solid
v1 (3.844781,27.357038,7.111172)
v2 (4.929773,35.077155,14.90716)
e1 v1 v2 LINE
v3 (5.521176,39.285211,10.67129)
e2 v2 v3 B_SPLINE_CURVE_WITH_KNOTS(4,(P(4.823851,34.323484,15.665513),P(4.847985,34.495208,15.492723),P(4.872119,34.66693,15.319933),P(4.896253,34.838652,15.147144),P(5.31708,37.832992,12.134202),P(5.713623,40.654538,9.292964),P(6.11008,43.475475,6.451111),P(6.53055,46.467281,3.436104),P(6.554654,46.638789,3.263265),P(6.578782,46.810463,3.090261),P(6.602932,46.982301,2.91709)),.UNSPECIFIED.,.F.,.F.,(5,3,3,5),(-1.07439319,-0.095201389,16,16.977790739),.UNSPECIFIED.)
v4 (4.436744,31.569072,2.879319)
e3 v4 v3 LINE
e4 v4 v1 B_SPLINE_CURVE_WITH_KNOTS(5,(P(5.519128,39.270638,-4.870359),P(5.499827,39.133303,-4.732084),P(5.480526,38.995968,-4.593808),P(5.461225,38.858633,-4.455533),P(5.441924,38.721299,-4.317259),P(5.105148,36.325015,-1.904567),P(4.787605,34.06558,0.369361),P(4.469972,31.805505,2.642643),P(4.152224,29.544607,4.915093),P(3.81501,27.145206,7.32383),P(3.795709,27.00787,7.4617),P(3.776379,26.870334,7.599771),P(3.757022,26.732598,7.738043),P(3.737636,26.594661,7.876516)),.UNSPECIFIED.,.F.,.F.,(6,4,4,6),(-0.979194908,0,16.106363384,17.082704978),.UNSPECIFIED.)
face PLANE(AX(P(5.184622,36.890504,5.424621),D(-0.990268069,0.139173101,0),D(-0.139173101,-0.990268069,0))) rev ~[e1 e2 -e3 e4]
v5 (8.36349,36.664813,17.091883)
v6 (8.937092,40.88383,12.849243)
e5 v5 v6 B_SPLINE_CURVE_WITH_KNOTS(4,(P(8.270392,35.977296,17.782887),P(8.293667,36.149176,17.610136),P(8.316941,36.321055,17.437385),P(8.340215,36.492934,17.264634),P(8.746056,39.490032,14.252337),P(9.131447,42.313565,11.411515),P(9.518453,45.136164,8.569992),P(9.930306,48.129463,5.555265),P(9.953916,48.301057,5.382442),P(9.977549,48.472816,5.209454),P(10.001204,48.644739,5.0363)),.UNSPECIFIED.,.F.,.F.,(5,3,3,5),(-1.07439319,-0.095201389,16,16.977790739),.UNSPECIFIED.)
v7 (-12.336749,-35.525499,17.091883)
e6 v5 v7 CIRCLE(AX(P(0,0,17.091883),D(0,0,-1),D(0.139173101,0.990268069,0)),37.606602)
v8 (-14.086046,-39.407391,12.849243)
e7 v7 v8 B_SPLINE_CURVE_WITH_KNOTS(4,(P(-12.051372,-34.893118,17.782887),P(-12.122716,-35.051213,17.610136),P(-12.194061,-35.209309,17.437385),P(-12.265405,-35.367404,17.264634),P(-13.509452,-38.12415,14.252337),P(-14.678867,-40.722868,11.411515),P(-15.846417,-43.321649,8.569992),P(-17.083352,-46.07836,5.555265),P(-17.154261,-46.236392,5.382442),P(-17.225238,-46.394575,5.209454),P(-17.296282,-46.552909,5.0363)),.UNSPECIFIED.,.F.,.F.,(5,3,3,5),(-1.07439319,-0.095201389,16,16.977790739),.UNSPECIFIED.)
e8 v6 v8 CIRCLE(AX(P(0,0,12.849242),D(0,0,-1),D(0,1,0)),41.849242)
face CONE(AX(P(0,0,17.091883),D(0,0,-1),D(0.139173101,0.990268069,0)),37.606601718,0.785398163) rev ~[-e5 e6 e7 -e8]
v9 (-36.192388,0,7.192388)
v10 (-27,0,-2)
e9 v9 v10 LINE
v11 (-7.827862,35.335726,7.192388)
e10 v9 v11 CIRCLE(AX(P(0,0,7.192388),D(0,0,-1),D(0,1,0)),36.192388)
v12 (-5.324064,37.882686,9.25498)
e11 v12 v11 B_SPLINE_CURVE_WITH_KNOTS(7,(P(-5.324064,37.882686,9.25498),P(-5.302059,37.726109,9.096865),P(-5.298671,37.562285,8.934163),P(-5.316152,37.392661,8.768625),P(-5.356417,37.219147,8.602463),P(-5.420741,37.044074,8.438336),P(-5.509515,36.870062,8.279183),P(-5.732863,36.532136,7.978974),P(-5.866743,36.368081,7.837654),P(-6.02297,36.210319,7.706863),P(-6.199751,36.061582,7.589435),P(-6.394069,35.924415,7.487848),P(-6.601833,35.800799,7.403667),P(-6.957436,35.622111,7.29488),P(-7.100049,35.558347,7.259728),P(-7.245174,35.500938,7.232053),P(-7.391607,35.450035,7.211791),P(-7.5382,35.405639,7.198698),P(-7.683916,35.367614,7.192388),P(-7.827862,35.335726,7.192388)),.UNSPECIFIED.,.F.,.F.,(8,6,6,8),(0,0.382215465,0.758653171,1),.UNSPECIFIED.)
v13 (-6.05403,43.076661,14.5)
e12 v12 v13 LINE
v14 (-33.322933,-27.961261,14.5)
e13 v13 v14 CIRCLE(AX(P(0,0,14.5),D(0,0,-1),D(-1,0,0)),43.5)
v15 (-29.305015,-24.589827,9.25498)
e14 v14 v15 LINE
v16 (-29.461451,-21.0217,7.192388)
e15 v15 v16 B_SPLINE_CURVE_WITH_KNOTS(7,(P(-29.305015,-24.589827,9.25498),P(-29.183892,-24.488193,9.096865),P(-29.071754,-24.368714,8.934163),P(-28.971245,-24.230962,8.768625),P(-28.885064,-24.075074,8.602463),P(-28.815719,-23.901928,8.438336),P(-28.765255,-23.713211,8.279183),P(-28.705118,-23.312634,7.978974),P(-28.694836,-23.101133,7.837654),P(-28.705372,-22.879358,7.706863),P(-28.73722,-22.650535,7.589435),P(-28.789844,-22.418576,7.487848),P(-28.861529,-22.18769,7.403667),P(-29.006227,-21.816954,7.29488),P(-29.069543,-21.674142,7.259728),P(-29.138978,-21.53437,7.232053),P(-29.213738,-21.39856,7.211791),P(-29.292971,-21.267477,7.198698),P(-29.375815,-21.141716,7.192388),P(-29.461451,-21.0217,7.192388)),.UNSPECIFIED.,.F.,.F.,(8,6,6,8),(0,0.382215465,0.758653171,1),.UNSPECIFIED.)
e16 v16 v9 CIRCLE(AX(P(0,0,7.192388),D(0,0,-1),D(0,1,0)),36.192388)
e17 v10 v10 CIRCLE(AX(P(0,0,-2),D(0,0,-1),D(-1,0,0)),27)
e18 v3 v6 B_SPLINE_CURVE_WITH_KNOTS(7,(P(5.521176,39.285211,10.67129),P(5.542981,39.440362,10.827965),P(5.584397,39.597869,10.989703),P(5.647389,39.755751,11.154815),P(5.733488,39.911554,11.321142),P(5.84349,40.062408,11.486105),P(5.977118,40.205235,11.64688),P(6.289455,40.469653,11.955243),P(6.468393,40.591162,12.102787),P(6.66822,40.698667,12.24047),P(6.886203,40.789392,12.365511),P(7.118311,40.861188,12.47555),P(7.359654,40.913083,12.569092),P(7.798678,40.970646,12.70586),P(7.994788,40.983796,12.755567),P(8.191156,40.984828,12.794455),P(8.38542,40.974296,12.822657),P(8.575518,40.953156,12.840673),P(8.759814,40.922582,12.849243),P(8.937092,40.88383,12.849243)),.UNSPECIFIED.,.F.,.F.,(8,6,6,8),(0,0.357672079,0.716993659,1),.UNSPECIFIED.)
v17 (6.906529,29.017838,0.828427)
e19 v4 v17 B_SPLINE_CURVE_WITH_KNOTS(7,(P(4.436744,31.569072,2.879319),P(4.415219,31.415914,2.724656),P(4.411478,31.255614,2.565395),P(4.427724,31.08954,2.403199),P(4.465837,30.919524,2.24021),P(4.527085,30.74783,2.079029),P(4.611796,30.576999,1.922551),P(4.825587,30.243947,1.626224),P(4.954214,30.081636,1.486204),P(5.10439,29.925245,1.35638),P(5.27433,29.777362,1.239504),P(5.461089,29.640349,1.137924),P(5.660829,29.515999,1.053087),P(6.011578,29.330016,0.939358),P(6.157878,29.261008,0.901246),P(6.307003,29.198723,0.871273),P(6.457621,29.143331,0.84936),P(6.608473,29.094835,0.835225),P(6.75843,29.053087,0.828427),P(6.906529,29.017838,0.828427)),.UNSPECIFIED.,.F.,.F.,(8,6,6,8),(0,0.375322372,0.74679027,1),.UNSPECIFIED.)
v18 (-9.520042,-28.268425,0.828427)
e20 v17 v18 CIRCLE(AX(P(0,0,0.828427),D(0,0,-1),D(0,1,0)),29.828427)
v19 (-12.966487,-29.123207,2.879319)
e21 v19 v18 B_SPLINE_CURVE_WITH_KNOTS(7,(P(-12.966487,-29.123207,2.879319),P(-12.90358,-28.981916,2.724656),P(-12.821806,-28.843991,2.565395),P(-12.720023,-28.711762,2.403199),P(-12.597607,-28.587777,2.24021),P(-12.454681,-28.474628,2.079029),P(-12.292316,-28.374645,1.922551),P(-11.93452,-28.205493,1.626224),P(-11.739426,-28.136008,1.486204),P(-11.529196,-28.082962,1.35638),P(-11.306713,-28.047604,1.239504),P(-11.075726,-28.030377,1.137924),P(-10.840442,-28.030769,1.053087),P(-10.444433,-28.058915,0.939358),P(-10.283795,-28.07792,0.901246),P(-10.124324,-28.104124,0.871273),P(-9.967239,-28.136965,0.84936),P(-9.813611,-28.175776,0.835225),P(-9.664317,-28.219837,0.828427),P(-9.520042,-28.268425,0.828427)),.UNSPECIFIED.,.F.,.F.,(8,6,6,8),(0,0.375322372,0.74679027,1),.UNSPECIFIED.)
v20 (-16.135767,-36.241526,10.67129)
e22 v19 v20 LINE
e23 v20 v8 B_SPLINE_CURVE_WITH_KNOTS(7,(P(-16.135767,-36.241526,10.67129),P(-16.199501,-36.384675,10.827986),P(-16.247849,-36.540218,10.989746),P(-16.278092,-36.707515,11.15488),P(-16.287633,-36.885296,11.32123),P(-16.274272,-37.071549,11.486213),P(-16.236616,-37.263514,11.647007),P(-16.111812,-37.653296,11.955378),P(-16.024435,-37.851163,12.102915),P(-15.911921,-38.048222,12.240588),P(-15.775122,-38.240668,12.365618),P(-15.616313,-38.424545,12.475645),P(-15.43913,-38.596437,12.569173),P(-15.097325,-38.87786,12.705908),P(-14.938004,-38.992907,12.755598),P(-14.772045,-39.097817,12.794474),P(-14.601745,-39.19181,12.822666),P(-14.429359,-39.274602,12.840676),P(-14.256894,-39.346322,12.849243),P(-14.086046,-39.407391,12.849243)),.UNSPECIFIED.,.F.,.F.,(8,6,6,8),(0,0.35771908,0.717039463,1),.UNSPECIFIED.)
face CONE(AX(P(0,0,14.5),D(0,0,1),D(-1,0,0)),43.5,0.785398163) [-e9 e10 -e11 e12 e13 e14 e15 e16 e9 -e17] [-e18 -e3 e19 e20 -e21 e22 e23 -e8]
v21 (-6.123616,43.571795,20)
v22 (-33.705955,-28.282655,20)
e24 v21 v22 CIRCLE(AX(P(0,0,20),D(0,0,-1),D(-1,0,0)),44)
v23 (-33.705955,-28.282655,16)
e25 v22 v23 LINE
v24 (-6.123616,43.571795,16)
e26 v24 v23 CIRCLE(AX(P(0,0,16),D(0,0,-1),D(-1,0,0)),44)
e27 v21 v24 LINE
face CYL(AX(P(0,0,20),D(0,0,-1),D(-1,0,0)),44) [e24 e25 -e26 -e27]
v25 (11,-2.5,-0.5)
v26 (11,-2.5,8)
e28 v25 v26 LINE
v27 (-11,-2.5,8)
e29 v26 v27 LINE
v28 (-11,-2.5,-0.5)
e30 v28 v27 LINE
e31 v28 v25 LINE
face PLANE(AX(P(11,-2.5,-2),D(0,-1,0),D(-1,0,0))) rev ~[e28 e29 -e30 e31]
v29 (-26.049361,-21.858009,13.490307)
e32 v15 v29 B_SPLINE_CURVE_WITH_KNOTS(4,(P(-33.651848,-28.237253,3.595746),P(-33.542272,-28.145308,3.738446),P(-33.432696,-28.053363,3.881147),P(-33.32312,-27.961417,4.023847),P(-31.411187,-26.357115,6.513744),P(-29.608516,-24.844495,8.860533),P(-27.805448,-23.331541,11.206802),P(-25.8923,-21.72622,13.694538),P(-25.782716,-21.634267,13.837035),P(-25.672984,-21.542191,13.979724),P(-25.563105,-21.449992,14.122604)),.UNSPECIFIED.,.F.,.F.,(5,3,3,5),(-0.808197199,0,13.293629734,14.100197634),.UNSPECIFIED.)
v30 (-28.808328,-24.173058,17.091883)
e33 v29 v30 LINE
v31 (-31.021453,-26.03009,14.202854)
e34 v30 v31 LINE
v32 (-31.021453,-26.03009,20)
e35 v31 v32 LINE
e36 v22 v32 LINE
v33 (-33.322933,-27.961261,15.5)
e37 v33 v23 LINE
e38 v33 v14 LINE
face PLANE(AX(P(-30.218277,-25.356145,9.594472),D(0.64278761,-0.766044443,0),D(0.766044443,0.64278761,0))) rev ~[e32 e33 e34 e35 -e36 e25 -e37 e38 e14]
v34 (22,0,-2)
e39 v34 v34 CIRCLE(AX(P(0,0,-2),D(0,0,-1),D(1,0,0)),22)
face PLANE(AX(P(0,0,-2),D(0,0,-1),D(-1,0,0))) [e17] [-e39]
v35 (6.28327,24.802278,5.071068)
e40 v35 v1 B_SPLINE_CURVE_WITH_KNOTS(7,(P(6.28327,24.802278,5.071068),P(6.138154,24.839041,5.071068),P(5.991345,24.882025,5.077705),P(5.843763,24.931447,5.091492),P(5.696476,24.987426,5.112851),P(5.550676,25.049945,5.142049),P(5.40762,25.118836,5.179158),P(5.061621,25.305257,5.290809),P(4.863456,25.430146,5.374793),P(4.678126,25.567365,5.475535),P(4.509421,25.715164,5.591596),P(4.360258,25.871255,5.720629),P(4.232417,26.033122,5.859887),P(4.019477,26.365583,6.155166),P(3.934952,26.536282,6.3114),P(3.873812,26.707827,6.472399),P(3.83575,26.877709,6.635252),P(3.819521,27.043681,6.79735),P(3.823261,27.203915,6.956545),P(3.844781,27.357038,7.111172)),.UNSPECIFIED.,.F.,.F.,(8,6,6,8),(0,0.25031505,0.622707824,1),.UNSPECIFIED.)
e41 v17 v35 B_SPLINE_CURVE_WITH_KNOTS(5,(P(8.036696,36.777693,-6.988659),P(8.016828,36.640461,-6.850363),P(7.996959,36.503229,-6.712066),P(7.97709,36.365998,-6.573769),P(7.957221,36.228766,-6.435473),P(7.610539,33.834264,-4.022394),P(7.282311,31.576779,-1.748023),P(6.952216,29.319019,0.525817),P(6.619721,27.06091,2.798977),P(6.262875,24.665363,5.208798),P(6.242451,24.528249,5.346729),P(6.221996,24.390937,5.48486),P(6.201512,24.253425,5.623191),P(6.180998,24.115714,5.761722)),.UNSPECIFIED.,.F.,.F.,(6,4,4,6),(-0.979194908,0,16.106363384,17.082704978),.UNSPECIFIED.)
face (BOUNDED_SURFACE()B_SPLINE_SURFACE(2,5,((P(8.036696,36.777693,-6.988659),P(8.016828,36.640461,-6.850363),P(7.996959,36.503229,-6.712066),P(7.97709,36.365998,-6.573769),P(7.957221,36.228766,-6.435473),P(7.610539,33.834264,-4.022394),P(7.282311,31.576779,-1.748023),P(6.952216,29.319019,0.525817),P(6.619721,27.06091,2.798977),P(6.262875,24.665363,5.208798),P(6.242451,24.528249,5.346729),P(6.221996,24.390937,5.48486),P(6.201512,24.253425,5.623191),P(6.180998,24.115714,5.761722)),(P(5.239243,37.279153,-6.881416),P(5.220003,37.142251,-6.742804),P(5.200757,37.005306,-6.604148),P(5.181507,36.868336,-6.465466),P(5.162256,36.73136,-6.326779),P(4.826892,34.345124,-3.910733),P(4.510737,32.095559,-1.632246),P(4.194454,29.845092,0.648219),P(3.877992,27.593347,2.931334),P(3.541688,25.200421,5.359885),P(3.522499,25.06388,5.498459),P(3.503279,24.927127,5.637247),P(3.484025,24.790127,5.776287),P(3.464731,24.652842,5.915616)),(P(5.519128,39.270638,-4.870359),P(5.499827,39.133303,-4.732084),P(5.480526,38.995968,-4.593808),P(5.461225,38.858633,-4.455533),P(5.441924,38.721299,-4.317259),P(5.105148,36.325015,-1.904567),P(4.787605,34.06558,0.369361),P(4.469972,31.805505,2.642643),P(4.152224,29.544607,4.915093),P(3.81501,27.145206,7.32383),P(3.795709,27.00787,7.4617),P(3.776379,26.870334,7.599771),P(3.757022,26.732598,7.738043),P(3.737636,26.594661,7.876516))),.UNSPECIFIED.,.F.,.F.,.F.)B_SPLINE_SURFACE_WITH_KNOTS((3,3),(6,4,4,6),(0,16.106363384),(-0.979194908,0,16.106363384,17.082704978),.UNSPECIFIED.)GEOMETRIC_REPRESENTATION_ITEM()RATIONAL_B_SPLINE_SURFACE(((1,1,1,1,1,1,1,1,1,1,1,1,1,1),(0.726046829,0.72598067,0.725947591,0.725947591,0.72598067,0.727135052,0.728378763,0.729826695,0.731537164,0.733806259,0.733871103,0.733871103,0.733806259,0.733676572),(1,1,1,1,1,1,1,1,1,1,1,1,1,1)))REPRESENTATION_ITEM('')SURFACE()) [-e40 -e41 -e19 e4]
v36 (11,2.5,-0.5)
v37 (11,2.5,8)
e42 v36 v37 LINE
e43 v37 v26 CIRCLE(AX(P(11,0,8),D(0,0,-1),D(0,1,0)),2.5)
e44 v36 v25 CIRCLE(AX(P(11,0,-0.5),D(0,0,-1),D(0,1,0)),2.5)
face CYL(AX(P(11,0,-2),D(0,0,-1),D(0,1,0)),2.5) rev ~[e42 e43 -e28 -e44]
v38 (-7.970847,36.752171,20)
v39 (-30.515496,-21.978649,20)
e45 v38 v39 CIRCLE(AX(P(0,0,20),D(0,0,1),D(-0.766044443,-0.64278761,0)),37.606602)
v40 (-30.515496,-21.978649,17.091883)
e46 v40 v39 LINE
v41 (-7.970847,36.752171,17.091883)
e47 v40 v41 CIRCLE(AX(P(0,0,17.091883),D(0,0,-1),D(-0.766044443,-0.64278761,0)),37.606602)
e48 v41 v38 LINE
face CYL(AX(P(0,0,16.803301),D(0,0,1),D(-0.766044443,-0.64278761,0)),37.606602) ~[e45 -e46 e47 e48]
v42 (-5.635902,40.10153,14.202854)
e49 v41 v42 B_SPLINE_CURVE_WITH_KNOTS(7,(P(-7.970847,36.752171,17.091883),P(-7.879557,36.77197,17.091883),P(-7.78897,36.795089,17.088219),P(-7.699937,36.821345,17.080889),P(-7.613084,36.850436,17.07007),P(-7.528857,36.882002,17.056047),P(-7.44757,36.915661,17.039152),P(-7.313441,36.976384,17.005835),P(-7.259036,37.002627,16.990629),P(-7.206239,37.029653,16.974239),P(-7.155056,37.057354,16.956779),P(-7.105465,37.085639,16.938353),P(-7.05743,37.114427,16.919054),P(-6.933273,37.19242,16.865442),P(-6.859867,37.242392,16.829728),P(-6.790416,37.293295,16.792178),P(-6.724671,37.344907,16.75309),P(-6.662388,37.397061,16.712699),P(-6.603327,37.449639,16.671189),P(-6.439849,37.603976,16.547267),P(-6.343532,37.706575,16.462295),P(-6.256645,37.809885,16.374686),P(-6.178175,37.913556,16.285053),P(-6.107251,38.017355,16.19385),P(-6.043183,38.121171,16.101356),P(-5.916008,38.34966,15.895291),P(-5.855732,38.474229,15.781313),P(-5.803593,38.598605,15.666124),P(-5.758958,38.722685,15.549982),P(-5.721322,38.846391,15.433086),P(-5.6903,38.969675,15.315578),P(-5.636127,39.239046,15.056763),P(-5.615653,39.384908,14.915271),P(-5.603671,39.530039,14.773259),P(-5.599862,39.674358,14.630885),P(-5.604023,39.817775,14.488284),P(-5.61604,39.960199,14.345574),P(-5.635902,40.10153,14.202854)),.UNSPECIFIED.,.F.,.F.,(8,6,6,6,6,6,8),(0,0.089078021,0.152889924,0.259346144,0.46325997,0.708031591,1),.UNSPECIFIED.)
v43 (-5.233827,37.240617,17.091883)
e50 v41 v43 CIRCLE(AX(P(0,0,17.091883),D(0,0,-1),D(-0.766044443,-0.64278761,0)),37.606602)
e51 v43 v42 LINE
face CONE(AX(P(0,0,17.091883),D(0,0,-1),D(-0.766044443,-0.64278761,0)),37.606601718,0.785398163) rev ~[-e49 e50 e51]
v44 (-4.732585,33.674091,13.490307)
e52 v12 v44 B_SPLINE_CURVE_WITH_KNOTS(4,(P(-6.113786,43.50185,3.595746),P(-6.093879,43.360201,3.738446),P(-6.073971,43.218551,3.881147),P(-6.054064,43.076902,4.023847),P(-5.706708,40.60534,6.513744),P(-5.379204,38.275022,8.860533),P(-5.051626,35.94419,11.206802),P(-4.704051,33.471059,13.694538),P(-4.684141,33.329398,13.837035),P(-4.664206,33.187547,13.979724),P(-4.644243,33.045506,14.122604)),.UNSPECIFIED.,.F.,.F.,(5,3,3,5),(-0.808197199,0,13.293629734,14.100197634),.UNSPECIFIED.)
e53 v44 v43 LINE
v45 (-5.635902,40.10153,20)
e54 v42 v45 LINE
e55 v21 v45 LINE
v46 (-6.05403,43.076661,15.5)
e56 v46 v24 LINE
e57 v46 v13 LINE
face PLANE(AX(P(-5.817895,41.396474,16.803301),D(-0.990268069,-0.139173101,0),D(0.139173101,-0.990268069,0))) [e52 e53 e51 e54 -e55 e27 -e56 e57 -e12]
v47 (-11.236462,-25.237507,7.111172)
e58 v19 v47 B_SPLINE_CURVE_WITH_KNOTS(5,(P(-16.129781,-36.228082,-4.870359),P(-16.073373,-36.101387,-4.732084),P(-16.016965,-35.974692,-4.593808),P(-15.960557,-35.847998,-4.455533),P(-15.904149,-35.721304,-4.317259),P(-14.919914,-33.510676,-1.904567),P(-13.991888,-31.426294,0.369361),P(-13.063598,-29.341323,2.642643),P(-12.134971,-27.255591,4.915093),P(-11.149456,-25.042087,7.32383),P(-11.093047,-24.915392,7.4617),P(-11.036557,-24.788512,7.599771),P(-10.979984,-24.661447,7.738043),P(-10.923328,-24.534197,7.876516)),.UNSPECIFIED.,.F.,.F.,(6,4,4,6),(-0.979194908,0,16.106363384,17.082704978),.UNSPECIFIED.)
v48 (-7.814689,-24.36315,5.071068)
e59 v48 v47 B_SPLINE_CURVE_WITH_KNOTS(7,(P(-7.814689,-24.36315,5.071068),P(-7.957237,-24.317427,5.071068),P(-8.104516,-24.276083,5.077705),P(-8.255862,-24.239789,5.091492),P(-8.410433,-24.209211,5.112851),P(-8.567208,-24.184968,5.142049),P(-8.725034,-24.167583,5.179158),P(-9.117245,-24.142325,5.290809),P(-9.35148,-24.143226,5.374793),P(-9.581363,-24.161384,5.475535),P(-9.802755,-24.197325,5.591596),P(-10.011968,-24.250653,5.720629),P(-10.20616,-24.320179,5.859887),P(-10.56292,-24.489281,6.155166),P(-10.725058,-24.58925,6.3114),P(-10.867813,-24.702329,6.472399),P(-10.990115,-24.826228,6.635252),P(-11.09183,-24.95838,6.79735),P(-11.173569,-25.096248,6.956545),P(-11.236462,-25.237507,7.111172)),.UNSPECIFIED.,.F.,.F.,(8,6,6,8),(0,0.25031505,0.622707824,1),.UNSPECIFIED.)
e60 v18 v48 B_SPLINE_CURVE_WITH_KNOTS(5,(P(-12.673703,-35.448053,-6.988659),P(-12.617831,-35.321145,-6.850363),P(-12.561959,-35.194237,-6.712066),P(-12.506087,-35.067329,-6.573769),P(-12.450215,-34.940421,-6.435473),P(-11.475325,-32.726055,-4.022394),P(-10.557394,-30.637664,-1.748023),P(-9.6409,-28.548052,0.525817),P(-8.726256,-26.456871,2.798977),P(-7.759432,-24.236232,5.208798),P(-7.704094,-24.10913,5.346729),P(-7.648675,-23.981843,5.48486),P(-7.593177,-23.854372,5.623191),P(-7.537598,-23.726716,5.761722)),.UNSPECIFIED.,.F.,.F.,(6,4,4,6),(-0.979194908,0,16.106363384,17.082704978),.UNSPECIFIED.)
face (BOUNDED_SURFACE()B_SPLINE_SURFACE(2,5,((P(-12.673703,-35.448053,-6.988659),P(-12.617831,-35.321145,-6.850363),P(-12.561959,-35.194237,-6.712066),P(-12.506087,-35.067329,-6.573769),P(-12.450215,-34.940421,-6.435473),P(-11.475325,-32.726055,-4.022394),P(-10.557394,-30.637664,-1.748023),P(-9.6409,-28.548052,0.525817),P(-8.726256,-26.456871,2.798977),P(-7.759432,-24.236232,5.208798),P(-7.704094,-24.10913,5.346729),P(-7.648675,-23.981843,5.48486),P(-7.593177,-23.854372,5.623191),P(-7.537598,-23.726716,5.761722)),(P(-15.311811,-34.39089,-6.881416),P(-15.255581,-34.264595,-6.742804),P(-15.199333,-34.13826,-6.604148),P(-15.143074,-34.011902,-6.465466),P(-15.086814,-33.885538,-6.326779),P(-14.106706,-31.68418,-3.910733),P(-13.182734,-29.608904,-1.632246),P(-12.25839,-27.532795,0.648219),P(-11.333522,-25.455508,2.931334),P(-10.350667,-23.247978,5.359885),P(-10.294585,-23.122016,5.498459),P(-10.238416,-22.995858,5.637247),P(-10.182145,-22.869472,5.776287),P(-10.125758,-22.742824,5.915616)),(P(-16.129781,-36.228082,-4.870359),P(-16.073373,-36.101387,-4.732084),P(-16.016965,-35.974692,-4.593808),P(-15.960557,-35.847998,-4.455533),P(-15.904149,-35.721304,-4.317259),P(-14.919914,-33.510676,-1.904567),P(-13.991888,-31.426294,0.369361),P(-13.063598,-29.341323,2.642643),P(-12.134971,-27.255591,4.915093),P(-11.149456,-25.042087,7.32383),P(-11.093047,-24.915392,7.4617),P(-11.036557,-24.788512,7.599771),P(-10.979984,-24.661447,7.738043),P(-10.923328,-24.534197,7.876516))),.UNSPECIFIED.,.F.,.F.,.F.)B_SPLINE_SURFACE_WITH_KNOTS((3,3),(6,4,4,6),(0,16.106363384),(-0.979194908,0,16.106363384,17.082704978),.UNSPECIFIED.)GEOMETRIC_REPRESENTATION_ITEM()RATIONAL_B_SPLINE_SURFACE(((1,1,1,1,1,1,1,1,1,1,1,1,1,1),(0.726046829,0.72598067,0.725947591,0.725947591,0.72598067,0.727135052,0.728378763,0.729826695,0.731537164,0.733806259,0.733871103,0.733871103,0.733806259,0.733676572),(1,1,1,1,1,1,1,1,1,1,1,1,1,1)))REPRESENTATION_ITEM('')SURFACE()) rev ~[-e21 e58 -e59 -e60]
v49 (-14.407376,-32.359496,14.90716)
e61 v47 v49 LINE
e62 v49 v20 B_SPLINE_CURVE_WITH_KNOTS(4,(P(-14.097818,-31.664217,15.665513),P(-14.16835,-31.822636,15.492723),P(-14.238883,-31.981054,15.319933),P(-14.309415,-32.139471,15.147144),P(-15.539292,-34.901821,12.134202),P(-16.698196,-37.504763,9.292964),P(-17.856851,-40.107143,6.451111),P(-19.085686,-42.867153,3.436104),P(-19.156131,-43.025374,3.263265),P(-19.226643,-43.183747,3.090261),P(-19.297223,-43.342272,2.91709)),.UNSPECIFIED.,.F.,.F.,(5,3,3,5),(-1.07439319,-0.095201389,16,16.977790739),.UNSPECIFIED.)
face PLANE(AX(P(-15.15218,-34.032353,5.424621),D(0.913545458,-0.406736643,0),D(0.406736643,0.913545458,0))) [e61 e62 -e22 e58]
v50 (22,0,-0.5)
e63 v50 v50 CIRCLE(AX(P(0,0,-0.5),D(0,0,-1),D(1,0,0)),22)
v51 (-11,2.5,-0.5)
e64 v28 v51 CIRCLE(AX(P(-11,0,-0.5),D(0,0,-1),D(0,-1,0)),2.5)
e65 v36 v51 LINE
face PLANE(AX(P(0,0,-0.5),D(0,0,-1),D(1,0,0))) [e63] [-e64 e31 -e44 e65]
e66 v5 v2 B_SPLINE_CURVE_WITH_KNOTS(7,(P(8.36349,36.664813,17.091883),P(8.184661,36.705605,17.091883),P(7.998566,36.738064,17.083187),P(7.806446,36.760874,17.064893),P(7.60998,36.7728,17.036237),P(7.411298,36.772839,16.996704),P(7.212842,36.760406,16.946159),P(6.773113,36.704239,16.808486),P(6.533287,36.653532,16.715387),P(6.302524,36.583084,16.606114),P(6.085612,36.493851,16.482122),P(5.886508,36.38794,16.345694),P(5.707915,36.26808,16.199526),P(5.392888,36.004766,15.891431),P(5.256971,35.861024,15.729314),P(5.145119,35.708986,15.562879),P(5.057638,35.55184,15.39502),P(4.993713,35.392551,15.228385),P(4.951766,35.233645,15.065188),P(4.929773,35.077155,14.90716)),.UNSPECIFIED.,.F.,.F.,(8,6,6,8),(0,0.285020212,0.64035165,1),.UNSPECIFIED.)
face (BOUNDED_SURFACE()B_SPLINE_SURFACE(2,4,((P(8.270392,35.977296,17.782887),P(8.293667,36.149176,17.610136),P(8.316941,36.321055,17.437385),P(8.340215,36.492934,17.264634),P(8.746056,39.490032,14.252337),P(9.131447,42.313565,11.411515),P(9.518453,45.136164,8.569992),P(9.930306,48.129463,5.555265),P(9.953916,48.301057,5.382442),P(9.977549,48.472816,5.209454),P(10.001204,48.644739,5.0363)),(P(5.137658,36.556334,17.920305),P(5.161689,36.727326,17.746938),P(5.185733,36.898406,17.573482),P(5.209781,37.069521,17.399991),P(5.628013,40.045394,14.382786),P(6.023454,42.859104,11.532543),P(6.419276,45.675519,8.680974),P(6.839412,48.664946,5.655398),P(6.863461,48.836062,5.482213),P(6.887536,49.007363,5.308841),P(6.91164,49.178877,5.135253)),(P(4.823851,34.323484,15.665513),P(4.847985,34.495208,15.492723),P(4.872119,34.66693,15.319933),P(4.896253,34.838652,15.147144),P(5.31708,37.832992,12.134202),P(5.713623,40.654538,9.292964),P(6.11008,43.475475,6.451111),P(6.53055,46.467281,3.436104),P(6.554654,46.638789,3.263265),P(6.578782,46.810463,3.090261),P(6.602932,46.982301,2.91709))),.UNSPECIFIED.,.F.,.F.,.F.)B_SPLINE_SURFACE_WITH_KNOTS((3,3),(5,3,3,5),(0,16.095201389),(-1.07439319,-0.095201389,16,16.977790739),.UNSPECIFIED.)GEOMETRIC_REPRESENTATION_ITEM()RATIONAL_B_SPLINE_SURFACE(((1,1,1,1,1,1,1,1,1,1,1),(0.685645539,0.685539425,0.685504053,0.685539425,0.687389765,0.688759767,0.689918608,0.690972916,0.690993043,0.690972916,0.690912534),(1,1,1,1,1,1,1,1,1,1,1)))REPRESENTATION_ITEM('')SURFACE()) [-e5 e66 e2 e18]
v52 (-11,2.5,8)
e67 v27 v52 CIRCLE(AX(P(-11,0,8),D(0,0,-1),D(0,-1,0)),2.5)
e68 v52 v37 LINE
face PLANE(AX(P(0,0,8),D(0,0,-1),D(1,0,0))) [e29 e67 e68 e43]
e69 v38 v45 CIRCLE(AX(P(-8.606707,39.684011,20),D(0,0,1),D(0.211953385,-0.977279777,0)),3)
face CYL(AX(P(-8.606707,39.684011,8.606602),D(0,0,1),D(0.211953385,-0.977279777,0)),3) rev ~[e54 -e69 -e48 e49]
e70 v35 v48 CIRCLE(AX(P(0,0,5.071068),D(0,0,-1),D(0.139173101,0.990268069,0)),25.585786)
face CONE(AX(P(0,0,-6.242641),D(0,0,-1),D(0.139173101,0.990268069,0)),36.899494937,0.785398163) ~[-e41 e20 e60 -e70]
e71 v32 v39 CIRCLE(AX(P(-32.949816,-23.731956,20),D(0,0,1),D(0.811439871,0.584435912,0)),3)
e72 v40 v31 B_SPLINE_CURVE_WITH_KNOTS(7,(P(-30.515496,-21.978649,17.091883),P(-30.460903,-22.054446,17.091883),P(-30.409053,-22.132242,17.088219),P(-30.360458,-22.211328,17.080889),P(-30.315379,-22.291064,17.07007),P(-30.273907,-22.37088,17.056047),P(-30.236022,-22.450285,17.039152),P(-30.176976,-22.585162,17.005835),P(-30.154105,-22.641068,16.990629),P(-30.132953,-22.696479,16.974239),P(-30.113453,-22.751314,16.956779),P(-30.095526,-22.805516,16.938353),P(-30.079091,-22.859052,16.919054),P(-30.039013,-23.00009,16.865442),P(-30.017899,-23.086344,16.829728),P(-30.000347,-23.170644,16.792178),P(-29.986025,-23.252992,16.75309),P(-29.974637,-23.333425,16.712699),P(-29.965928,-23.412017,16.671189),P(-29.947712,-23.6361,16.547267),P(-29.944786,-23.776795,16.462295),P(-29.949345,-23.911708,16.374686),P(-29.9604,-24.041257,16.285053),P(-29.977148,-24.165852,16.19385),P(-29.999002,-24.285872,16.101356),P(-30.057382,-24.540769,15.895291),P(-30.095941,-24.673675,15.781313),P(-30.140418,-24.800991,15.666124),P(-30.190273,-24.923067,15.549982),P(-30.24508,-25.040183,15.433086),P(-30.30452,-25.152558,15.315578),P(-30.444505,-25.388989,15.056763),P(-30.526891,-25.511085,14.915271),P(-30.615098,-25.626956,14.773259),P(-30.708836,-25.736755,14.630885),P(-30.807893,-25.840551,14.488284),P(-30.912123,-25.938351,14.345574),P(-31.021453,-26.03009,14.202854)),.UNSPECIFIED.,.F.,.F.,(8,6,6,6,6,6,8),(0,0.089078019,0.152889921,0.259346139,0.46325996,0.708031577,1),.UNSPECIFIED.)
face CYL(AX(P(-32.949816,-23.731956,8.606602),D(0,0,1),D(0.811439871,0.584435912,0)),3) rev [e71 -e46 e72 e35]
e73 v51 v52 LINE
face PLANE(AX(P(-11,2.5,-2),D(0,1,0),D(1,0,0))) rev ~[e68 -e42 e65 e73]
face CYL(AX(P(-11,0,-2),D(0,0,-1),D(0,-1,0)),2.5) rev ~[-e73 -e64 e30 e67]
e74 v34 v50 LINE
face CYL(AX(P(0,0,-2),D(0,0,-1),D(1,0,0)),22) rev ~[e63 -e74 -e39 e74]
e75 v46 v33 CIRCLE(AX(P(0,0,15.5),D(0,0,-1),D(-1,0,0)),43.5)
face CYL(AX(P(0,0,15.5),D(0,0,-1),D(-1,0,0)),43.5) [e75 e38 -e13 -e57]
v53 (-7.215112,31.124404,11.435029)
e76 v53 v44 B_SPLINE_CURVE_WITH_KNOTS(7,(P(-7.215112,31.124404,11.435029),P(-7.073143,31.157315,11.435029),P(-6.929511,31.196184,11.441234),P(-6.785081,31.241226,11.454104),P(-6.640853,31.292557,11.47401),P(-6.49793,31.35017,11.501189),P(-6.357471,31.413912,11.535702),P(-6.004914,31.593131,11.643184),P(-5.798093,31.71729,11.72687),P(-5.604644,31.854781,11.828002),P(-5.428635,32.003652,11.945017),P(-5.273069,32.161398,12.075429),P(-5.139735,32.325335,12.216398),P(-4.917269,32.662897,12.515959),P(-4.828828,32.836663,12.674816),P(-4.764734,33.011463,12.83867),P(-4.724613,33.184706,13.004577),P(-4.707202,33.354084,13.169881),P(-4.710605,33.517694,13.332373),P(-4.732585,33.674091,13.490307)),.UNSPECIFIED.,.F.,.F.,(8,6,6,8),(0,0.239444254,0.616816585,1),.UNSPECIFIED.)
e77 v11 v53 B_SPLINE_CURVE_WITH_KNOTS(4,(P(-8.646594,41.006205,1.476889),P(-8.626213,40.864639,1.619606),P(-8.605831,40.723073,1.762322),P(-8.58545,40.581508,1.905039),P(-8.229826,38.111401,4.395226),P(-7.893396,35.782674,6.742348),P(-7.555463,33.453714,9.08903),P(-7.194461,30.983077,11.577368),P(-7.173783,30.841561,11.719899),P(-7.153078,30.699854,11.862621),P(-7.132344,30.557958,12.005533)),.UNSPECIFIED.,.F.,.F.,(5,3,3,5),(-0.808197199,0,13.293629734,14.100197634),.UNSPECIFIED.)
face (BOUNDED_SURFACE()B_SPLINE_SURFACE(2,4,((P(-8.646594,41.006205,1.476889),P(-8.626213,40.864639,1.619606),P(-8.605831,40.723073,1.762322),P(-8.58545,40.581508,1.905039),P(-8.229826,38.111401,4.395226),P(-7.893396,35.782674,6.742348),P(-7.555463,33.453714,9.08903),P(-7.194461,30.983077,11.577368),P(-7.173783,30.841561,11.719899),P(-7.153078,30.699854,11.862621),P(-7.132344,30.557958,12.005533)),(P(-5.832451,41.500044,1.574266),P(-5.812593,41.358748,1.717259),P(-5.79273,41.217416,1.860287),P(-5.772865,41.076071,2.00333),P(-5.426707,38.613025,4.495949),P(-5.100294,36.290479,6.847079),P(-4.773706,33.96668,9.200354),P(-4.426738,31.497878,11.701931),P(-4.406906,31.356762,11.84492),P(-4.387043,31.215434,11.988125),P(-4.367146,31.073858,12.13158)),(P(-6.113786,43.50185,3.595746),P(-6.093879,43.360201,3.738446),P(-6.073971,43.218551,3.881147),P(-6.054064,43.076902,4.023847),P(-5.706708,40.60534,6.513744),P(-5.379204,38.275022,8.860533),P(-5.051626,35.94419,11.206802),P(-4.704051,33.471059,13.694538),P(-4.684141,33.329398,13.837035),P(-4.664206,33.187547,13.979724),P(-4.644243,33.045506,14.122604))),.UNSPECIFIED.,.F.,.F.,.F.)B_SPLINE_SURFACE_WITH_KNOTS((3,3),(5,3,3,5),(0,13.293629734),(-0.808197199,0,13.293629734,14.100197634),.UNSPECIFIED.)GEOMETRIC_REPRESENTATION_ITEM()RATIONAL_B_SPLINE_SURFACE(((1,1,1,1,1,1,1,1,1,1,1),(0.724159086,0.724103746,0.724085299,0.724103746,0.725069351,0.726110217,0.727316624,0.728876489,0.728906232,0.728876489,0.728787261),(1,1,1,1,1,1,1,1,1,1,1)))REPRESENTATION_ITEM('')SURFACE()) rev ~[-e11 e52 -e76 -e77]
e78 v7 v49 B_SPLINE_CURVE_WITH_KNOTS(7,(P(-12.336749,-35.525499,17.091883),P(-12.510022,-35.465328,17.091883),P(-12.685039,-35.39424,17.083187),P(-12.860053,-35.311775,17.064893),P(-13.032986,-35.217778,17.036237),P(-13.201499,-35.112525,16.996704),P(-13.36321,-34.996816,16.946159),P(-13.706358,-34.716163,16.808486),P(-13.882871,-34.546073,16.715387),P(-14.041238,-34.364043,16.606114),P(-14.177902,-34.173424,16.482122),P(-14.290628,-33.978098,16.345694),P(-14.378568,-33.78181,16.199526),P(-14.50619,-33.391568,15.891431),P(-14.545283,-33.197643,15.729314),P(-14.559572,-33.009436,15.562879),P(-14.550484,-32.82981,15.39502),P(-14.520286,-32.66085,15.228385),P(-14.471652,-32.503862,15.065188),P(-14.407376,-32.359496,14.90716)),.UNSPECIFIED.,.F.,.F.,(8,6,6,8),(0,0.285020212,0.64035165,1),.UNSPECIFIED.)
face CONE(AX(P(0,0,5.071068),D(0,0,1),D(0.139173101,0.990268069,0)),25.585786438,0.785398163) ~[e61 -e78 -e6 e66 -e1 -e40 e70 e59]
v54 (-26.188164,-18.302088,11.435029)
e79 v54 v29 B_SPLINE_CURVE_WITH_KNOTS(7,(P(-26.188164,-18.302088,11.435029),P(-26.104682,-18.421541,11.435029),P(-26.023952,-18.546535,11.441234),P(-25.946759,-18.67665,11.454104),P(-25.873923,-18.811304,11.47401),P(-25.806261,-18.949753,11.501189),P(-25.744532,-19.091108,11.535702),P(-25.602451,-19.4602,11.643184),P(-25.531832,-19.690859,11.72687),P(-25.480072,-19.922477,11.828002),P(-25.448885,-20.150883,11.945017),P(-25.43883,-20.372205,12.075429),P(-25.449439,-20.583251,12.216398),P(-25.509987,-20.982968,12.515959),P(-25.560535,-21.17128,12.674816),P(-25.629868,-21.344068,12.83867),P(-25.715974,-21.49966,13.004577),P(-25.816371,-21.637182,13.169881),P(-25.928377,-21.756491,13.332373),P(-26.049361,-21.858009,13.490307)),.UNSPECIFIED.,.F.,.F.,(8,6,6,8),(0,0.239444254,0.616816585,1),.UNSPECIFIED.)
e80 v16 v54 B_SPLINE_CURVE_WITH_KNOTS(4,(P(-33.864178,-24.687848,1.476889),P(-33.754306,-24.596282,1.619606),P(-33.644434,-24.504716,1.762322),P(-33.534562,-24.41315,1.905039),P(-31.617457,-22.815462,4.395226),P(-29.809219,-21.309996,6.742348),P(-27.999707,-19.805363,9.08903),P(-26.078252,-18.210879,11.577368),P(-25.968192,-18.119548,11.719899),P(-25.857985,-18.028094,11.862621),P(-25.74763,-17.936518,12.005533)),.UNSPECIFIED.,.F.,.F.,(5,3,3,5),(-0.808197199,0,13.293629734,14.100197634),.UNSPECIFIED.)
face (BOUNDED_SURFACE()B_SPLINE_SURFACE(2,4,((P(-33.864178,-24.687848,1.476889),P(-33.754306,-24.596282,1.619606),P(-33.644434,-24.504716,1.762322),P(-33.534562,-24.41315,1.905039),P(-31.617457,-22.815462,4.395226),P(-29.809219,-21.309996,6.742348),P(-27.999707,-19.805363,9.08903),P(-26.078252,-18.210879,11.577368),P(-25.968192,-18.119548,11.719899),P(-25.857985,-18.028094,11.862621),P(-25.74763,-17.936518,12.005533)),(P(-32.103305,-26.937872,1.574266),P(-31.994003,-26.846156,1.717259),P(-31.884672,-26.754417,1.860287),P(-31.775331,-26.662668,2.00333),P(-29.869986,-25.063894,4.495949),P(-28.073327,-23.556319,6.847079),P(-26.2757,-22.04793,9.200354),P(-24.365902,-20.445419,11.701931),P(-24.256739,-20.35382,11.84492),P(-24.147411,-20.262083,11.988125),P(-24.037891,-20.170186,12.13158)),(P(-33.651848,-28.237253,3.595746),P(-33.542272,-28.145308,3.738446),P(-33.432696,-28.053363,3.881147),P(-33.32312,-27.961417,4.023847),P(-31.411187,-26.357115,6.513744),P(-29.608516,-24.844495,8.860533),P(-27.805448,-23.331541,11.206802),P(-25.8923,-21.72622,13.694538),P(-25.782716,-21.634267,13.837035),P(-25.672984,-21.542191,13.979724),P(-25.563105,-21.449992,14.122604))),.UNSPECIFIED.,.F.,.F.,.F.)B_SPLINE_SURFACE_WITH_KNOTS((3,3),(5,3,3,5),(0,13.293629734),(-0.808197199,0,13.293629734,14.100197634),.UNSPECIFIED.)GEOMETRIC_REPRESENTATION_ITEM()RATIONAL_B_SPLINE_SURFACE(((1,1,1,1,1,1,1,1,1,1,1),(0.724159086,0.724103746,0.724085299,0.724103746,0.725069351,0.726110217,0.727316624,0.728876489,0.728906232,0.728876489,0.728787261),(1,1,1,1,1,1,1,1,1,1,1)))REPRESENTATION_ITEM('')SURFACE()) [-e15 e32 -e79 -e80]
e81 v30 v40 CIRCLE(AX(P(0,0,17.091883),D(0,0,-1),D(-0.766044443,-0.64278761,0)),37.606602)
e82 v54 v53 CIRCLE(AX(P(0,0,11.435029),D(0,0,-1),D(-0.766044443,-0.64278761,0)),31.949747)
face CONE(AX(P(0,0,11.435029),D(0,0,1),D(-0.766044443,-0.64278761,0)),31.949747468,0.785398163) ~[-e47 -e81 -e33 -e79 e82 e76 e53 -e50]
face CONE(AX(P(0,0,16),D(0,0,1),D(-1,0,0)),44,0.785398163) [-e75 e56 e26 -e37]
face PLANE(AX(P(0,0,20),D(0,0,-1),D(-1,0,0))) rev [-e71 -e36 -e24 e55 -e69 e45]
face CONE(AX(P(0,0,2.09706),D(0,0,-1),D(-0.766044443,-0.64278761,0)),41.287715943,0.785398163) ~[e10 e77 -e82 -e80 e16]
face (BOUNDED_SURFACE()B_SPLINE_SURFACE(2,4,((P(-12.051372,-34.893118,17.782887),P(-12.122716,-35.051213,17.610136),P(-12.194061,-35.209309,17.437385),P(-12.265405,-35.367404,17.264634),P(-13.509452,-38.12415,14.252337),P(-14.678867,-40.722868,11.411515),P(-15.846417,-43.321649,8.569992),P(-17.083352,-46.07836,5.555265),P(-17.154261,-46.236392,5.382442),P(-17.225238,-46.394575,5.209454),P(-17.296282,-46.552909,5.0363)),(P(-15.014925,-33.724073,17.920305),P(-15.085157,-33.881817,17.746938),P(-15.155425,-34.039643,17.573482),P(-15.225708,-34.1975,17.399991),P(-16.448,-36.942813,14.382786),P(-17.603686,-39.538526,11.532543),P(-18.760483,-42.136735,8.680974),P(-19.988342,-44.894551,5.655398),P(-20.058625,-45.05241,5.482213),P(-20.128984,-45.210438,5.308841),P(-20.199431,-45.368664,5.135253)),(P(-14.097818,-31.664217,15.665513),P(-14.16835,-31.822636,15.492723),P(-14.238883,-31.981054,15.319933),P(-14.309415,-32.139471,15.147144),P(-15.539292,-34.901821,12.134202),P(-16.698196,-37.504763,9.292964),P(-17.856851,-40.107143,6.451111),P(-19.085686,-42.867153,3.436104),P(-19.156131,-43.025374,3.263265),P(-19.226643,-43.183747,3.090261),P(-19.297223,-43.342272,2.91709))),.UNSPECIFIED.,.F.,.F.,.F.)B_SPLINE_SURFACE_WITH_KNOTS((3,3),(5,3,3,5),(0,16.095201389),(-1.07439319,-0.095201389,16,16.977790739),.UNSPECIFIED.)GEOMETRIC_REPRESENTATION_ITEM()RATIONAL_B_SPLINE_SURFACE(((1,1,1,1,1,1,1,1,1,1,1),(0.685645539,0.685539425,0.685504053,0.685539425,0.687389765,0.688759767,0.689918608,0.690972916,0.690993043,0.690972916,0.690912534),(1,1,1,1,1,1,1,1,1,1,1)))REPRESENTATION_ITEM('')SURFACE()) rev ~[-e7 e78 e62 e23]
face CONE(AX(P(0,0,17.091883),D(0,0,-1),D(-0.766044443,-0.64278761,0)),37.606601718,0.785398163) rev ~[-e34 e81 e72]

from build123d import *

# Parameters (mm, degrees)
F3_W           = 8.3933982822
F3_H           = 16.3933982822
F4_ANGLE_BACK  = 40
F4_ANGLE       = 122
F6_ANGLE_START = 98
F6_ANGLE       = 196
F7_ANGLE_BACK  = 40
F7_ANGLE       = 122
F8_R           = 3
F8_2_R         = 3
F9_R           = 3
F13_DEPTH      = 10
F14_R          = 22
F15_DEPTH      = 1.5


with BuildPart() as f1:
    # F0 (on Front) → F1 (revolve)
    with BuildSketch(Plane.XZ):
        Polygon((-43.5, 14.5), (-27, -2), (0, -2), (0, 20), (-44, 20), (-44, 16), (-43.5, 15.5), align=None)
    revolve(axis=Axis((0, 0, 9.4880101401), (0, 0, -1)))


with BuildPart() as f4:
    # F3 (on Front) → F4 (revolve)
    with BuildSketch(Plane.XZ, mode=Mode.PRIVATE) as f4_sk:
        with Locations((-41.8033008589, 16.8033008589)):
            Rectangle(F3_W, F3_H)
    revolve(f4_sk.sketch.rotate(Axis((0, 0, 9.4880101401), (0, 0, -1)), -F4_ANGLE_BACK), axis=Axis((0, 0, 9.4880101401), (0, 0, -1)), revolution_arc=F4_ANGLE)

    # F8#2
    f8_2_edges = [f4.edges().sort_by_distance(p)[0] for p in [
        (-5.233827, 37.240617, 16.803301),
        (-28.808328, -24.173058, 16.803301),
    ]]
    fillet(f8_2_edges, radius=F8_2_R)


with BuildPart() as f6:
    # F5 (on Front) → F6 (revolve)
    with BuildSketch(Plane.XZ, mode=Mode.PRIVATE) as f6_sk:
        Polygon((-36.8994949366, -6.2426406871), (-25.5857864376, 5.0710678119), (-37.6066017178, 17.091883092), (-48.9203102168, 5.7781745931), align=None)
    revolve(f6_sk.sketch.rotate(Axis((0, 0, 9), (0, 0, -1)), F6_ANGLE_START), axis=Axis((0, 0, 9), (0, 0, -1)), revolution_arc=F6_ANGLE)

    # F9
    f9_edges = [f6.edges().sort_by_distance(p)[0] for p in [
        (4.348135, 30.938589, -0.585786),
        (6.021109, 42.842419, 11.435029),
        (-17.596833, -39.523134, 11.435029),
        (-12.707527, -28.541572, -0.585786),
    ]]
    fillet(f9_edges, radius=F9_R)


with BuildPart() as f7:
    # F2 (on Front) → F7 (revolve)
    with BuildSketch(Plane.XZ, mode=Mode.PRIVATE) as f7_sk:
        Polygon((-41.2877159425, 2.0970603683), (-31.9497474683, 11.4350288425), (-37.6066017178, 17.091883092), (-46.944570192, 7.7539146178), align=None)
    revolve(f7_sk.sketch.rotate(Axis((0, 0, 9), (0, 0, -1)), -F7_ANGLE_BACK), axis=Axis((0, 0, 9), (0, 0, -1)), revolution_arc=F7_ANGLE)

    # F8
    f8_edges = [f7.edges().sort_by_distance(p)[0] for p in [
        (-28.051576, -23.538067, 6.766045),
        (-5.096342, 36.262361, 6.766045),
    ]]
    fillet(f8_edges, radius=F8_R)


with BuildPart() as f1_1:
    add(f1.part)

    # F10: cut F7, F4, F6
    add(f7.part, mode=Mode.SUBTRACT)
    add(f4.part, mode=Mode.SUBTRACT)
    add(f6.part, mode=Mode.SUBTRACT)

    # F12 (on offset) → F13 (cut)
    with BuildSketch(Plane(origin=(0, 0, -2), x_dir=(1, 0, 0), z_dir=(0, 0, -1))):
        with BuildLine():
            ThreePointArc((-11, 2.5), (-13.5, 0), (-11, -2.5))
            Line((-11, -2.5), (0, -2.5))
            Line((0, -2.5), (11, -2.5))
            ThreePointArc((11, -2.5), (13.5, 0), (11, 2.5))
            Line((11, 2.5), (0, 2.5))
            Line((0, 2.5), (-11, 2.5))
        make_face()
    extrude(amount=-F13_DEPTH, mode=Mode.SUBTRACT)

    # F14 (on offset) → F15 (cut)
    with BuildSketch(Plane(origin=(0, 0, -2), x_dir=(1, 0, 0), z_dir=(0, 0, -1))):
        Circle(F14_R)
    extrude(amount=-F15_DEPTH, mode=Mode.SUBTRACT)


solid = f1_1.part
